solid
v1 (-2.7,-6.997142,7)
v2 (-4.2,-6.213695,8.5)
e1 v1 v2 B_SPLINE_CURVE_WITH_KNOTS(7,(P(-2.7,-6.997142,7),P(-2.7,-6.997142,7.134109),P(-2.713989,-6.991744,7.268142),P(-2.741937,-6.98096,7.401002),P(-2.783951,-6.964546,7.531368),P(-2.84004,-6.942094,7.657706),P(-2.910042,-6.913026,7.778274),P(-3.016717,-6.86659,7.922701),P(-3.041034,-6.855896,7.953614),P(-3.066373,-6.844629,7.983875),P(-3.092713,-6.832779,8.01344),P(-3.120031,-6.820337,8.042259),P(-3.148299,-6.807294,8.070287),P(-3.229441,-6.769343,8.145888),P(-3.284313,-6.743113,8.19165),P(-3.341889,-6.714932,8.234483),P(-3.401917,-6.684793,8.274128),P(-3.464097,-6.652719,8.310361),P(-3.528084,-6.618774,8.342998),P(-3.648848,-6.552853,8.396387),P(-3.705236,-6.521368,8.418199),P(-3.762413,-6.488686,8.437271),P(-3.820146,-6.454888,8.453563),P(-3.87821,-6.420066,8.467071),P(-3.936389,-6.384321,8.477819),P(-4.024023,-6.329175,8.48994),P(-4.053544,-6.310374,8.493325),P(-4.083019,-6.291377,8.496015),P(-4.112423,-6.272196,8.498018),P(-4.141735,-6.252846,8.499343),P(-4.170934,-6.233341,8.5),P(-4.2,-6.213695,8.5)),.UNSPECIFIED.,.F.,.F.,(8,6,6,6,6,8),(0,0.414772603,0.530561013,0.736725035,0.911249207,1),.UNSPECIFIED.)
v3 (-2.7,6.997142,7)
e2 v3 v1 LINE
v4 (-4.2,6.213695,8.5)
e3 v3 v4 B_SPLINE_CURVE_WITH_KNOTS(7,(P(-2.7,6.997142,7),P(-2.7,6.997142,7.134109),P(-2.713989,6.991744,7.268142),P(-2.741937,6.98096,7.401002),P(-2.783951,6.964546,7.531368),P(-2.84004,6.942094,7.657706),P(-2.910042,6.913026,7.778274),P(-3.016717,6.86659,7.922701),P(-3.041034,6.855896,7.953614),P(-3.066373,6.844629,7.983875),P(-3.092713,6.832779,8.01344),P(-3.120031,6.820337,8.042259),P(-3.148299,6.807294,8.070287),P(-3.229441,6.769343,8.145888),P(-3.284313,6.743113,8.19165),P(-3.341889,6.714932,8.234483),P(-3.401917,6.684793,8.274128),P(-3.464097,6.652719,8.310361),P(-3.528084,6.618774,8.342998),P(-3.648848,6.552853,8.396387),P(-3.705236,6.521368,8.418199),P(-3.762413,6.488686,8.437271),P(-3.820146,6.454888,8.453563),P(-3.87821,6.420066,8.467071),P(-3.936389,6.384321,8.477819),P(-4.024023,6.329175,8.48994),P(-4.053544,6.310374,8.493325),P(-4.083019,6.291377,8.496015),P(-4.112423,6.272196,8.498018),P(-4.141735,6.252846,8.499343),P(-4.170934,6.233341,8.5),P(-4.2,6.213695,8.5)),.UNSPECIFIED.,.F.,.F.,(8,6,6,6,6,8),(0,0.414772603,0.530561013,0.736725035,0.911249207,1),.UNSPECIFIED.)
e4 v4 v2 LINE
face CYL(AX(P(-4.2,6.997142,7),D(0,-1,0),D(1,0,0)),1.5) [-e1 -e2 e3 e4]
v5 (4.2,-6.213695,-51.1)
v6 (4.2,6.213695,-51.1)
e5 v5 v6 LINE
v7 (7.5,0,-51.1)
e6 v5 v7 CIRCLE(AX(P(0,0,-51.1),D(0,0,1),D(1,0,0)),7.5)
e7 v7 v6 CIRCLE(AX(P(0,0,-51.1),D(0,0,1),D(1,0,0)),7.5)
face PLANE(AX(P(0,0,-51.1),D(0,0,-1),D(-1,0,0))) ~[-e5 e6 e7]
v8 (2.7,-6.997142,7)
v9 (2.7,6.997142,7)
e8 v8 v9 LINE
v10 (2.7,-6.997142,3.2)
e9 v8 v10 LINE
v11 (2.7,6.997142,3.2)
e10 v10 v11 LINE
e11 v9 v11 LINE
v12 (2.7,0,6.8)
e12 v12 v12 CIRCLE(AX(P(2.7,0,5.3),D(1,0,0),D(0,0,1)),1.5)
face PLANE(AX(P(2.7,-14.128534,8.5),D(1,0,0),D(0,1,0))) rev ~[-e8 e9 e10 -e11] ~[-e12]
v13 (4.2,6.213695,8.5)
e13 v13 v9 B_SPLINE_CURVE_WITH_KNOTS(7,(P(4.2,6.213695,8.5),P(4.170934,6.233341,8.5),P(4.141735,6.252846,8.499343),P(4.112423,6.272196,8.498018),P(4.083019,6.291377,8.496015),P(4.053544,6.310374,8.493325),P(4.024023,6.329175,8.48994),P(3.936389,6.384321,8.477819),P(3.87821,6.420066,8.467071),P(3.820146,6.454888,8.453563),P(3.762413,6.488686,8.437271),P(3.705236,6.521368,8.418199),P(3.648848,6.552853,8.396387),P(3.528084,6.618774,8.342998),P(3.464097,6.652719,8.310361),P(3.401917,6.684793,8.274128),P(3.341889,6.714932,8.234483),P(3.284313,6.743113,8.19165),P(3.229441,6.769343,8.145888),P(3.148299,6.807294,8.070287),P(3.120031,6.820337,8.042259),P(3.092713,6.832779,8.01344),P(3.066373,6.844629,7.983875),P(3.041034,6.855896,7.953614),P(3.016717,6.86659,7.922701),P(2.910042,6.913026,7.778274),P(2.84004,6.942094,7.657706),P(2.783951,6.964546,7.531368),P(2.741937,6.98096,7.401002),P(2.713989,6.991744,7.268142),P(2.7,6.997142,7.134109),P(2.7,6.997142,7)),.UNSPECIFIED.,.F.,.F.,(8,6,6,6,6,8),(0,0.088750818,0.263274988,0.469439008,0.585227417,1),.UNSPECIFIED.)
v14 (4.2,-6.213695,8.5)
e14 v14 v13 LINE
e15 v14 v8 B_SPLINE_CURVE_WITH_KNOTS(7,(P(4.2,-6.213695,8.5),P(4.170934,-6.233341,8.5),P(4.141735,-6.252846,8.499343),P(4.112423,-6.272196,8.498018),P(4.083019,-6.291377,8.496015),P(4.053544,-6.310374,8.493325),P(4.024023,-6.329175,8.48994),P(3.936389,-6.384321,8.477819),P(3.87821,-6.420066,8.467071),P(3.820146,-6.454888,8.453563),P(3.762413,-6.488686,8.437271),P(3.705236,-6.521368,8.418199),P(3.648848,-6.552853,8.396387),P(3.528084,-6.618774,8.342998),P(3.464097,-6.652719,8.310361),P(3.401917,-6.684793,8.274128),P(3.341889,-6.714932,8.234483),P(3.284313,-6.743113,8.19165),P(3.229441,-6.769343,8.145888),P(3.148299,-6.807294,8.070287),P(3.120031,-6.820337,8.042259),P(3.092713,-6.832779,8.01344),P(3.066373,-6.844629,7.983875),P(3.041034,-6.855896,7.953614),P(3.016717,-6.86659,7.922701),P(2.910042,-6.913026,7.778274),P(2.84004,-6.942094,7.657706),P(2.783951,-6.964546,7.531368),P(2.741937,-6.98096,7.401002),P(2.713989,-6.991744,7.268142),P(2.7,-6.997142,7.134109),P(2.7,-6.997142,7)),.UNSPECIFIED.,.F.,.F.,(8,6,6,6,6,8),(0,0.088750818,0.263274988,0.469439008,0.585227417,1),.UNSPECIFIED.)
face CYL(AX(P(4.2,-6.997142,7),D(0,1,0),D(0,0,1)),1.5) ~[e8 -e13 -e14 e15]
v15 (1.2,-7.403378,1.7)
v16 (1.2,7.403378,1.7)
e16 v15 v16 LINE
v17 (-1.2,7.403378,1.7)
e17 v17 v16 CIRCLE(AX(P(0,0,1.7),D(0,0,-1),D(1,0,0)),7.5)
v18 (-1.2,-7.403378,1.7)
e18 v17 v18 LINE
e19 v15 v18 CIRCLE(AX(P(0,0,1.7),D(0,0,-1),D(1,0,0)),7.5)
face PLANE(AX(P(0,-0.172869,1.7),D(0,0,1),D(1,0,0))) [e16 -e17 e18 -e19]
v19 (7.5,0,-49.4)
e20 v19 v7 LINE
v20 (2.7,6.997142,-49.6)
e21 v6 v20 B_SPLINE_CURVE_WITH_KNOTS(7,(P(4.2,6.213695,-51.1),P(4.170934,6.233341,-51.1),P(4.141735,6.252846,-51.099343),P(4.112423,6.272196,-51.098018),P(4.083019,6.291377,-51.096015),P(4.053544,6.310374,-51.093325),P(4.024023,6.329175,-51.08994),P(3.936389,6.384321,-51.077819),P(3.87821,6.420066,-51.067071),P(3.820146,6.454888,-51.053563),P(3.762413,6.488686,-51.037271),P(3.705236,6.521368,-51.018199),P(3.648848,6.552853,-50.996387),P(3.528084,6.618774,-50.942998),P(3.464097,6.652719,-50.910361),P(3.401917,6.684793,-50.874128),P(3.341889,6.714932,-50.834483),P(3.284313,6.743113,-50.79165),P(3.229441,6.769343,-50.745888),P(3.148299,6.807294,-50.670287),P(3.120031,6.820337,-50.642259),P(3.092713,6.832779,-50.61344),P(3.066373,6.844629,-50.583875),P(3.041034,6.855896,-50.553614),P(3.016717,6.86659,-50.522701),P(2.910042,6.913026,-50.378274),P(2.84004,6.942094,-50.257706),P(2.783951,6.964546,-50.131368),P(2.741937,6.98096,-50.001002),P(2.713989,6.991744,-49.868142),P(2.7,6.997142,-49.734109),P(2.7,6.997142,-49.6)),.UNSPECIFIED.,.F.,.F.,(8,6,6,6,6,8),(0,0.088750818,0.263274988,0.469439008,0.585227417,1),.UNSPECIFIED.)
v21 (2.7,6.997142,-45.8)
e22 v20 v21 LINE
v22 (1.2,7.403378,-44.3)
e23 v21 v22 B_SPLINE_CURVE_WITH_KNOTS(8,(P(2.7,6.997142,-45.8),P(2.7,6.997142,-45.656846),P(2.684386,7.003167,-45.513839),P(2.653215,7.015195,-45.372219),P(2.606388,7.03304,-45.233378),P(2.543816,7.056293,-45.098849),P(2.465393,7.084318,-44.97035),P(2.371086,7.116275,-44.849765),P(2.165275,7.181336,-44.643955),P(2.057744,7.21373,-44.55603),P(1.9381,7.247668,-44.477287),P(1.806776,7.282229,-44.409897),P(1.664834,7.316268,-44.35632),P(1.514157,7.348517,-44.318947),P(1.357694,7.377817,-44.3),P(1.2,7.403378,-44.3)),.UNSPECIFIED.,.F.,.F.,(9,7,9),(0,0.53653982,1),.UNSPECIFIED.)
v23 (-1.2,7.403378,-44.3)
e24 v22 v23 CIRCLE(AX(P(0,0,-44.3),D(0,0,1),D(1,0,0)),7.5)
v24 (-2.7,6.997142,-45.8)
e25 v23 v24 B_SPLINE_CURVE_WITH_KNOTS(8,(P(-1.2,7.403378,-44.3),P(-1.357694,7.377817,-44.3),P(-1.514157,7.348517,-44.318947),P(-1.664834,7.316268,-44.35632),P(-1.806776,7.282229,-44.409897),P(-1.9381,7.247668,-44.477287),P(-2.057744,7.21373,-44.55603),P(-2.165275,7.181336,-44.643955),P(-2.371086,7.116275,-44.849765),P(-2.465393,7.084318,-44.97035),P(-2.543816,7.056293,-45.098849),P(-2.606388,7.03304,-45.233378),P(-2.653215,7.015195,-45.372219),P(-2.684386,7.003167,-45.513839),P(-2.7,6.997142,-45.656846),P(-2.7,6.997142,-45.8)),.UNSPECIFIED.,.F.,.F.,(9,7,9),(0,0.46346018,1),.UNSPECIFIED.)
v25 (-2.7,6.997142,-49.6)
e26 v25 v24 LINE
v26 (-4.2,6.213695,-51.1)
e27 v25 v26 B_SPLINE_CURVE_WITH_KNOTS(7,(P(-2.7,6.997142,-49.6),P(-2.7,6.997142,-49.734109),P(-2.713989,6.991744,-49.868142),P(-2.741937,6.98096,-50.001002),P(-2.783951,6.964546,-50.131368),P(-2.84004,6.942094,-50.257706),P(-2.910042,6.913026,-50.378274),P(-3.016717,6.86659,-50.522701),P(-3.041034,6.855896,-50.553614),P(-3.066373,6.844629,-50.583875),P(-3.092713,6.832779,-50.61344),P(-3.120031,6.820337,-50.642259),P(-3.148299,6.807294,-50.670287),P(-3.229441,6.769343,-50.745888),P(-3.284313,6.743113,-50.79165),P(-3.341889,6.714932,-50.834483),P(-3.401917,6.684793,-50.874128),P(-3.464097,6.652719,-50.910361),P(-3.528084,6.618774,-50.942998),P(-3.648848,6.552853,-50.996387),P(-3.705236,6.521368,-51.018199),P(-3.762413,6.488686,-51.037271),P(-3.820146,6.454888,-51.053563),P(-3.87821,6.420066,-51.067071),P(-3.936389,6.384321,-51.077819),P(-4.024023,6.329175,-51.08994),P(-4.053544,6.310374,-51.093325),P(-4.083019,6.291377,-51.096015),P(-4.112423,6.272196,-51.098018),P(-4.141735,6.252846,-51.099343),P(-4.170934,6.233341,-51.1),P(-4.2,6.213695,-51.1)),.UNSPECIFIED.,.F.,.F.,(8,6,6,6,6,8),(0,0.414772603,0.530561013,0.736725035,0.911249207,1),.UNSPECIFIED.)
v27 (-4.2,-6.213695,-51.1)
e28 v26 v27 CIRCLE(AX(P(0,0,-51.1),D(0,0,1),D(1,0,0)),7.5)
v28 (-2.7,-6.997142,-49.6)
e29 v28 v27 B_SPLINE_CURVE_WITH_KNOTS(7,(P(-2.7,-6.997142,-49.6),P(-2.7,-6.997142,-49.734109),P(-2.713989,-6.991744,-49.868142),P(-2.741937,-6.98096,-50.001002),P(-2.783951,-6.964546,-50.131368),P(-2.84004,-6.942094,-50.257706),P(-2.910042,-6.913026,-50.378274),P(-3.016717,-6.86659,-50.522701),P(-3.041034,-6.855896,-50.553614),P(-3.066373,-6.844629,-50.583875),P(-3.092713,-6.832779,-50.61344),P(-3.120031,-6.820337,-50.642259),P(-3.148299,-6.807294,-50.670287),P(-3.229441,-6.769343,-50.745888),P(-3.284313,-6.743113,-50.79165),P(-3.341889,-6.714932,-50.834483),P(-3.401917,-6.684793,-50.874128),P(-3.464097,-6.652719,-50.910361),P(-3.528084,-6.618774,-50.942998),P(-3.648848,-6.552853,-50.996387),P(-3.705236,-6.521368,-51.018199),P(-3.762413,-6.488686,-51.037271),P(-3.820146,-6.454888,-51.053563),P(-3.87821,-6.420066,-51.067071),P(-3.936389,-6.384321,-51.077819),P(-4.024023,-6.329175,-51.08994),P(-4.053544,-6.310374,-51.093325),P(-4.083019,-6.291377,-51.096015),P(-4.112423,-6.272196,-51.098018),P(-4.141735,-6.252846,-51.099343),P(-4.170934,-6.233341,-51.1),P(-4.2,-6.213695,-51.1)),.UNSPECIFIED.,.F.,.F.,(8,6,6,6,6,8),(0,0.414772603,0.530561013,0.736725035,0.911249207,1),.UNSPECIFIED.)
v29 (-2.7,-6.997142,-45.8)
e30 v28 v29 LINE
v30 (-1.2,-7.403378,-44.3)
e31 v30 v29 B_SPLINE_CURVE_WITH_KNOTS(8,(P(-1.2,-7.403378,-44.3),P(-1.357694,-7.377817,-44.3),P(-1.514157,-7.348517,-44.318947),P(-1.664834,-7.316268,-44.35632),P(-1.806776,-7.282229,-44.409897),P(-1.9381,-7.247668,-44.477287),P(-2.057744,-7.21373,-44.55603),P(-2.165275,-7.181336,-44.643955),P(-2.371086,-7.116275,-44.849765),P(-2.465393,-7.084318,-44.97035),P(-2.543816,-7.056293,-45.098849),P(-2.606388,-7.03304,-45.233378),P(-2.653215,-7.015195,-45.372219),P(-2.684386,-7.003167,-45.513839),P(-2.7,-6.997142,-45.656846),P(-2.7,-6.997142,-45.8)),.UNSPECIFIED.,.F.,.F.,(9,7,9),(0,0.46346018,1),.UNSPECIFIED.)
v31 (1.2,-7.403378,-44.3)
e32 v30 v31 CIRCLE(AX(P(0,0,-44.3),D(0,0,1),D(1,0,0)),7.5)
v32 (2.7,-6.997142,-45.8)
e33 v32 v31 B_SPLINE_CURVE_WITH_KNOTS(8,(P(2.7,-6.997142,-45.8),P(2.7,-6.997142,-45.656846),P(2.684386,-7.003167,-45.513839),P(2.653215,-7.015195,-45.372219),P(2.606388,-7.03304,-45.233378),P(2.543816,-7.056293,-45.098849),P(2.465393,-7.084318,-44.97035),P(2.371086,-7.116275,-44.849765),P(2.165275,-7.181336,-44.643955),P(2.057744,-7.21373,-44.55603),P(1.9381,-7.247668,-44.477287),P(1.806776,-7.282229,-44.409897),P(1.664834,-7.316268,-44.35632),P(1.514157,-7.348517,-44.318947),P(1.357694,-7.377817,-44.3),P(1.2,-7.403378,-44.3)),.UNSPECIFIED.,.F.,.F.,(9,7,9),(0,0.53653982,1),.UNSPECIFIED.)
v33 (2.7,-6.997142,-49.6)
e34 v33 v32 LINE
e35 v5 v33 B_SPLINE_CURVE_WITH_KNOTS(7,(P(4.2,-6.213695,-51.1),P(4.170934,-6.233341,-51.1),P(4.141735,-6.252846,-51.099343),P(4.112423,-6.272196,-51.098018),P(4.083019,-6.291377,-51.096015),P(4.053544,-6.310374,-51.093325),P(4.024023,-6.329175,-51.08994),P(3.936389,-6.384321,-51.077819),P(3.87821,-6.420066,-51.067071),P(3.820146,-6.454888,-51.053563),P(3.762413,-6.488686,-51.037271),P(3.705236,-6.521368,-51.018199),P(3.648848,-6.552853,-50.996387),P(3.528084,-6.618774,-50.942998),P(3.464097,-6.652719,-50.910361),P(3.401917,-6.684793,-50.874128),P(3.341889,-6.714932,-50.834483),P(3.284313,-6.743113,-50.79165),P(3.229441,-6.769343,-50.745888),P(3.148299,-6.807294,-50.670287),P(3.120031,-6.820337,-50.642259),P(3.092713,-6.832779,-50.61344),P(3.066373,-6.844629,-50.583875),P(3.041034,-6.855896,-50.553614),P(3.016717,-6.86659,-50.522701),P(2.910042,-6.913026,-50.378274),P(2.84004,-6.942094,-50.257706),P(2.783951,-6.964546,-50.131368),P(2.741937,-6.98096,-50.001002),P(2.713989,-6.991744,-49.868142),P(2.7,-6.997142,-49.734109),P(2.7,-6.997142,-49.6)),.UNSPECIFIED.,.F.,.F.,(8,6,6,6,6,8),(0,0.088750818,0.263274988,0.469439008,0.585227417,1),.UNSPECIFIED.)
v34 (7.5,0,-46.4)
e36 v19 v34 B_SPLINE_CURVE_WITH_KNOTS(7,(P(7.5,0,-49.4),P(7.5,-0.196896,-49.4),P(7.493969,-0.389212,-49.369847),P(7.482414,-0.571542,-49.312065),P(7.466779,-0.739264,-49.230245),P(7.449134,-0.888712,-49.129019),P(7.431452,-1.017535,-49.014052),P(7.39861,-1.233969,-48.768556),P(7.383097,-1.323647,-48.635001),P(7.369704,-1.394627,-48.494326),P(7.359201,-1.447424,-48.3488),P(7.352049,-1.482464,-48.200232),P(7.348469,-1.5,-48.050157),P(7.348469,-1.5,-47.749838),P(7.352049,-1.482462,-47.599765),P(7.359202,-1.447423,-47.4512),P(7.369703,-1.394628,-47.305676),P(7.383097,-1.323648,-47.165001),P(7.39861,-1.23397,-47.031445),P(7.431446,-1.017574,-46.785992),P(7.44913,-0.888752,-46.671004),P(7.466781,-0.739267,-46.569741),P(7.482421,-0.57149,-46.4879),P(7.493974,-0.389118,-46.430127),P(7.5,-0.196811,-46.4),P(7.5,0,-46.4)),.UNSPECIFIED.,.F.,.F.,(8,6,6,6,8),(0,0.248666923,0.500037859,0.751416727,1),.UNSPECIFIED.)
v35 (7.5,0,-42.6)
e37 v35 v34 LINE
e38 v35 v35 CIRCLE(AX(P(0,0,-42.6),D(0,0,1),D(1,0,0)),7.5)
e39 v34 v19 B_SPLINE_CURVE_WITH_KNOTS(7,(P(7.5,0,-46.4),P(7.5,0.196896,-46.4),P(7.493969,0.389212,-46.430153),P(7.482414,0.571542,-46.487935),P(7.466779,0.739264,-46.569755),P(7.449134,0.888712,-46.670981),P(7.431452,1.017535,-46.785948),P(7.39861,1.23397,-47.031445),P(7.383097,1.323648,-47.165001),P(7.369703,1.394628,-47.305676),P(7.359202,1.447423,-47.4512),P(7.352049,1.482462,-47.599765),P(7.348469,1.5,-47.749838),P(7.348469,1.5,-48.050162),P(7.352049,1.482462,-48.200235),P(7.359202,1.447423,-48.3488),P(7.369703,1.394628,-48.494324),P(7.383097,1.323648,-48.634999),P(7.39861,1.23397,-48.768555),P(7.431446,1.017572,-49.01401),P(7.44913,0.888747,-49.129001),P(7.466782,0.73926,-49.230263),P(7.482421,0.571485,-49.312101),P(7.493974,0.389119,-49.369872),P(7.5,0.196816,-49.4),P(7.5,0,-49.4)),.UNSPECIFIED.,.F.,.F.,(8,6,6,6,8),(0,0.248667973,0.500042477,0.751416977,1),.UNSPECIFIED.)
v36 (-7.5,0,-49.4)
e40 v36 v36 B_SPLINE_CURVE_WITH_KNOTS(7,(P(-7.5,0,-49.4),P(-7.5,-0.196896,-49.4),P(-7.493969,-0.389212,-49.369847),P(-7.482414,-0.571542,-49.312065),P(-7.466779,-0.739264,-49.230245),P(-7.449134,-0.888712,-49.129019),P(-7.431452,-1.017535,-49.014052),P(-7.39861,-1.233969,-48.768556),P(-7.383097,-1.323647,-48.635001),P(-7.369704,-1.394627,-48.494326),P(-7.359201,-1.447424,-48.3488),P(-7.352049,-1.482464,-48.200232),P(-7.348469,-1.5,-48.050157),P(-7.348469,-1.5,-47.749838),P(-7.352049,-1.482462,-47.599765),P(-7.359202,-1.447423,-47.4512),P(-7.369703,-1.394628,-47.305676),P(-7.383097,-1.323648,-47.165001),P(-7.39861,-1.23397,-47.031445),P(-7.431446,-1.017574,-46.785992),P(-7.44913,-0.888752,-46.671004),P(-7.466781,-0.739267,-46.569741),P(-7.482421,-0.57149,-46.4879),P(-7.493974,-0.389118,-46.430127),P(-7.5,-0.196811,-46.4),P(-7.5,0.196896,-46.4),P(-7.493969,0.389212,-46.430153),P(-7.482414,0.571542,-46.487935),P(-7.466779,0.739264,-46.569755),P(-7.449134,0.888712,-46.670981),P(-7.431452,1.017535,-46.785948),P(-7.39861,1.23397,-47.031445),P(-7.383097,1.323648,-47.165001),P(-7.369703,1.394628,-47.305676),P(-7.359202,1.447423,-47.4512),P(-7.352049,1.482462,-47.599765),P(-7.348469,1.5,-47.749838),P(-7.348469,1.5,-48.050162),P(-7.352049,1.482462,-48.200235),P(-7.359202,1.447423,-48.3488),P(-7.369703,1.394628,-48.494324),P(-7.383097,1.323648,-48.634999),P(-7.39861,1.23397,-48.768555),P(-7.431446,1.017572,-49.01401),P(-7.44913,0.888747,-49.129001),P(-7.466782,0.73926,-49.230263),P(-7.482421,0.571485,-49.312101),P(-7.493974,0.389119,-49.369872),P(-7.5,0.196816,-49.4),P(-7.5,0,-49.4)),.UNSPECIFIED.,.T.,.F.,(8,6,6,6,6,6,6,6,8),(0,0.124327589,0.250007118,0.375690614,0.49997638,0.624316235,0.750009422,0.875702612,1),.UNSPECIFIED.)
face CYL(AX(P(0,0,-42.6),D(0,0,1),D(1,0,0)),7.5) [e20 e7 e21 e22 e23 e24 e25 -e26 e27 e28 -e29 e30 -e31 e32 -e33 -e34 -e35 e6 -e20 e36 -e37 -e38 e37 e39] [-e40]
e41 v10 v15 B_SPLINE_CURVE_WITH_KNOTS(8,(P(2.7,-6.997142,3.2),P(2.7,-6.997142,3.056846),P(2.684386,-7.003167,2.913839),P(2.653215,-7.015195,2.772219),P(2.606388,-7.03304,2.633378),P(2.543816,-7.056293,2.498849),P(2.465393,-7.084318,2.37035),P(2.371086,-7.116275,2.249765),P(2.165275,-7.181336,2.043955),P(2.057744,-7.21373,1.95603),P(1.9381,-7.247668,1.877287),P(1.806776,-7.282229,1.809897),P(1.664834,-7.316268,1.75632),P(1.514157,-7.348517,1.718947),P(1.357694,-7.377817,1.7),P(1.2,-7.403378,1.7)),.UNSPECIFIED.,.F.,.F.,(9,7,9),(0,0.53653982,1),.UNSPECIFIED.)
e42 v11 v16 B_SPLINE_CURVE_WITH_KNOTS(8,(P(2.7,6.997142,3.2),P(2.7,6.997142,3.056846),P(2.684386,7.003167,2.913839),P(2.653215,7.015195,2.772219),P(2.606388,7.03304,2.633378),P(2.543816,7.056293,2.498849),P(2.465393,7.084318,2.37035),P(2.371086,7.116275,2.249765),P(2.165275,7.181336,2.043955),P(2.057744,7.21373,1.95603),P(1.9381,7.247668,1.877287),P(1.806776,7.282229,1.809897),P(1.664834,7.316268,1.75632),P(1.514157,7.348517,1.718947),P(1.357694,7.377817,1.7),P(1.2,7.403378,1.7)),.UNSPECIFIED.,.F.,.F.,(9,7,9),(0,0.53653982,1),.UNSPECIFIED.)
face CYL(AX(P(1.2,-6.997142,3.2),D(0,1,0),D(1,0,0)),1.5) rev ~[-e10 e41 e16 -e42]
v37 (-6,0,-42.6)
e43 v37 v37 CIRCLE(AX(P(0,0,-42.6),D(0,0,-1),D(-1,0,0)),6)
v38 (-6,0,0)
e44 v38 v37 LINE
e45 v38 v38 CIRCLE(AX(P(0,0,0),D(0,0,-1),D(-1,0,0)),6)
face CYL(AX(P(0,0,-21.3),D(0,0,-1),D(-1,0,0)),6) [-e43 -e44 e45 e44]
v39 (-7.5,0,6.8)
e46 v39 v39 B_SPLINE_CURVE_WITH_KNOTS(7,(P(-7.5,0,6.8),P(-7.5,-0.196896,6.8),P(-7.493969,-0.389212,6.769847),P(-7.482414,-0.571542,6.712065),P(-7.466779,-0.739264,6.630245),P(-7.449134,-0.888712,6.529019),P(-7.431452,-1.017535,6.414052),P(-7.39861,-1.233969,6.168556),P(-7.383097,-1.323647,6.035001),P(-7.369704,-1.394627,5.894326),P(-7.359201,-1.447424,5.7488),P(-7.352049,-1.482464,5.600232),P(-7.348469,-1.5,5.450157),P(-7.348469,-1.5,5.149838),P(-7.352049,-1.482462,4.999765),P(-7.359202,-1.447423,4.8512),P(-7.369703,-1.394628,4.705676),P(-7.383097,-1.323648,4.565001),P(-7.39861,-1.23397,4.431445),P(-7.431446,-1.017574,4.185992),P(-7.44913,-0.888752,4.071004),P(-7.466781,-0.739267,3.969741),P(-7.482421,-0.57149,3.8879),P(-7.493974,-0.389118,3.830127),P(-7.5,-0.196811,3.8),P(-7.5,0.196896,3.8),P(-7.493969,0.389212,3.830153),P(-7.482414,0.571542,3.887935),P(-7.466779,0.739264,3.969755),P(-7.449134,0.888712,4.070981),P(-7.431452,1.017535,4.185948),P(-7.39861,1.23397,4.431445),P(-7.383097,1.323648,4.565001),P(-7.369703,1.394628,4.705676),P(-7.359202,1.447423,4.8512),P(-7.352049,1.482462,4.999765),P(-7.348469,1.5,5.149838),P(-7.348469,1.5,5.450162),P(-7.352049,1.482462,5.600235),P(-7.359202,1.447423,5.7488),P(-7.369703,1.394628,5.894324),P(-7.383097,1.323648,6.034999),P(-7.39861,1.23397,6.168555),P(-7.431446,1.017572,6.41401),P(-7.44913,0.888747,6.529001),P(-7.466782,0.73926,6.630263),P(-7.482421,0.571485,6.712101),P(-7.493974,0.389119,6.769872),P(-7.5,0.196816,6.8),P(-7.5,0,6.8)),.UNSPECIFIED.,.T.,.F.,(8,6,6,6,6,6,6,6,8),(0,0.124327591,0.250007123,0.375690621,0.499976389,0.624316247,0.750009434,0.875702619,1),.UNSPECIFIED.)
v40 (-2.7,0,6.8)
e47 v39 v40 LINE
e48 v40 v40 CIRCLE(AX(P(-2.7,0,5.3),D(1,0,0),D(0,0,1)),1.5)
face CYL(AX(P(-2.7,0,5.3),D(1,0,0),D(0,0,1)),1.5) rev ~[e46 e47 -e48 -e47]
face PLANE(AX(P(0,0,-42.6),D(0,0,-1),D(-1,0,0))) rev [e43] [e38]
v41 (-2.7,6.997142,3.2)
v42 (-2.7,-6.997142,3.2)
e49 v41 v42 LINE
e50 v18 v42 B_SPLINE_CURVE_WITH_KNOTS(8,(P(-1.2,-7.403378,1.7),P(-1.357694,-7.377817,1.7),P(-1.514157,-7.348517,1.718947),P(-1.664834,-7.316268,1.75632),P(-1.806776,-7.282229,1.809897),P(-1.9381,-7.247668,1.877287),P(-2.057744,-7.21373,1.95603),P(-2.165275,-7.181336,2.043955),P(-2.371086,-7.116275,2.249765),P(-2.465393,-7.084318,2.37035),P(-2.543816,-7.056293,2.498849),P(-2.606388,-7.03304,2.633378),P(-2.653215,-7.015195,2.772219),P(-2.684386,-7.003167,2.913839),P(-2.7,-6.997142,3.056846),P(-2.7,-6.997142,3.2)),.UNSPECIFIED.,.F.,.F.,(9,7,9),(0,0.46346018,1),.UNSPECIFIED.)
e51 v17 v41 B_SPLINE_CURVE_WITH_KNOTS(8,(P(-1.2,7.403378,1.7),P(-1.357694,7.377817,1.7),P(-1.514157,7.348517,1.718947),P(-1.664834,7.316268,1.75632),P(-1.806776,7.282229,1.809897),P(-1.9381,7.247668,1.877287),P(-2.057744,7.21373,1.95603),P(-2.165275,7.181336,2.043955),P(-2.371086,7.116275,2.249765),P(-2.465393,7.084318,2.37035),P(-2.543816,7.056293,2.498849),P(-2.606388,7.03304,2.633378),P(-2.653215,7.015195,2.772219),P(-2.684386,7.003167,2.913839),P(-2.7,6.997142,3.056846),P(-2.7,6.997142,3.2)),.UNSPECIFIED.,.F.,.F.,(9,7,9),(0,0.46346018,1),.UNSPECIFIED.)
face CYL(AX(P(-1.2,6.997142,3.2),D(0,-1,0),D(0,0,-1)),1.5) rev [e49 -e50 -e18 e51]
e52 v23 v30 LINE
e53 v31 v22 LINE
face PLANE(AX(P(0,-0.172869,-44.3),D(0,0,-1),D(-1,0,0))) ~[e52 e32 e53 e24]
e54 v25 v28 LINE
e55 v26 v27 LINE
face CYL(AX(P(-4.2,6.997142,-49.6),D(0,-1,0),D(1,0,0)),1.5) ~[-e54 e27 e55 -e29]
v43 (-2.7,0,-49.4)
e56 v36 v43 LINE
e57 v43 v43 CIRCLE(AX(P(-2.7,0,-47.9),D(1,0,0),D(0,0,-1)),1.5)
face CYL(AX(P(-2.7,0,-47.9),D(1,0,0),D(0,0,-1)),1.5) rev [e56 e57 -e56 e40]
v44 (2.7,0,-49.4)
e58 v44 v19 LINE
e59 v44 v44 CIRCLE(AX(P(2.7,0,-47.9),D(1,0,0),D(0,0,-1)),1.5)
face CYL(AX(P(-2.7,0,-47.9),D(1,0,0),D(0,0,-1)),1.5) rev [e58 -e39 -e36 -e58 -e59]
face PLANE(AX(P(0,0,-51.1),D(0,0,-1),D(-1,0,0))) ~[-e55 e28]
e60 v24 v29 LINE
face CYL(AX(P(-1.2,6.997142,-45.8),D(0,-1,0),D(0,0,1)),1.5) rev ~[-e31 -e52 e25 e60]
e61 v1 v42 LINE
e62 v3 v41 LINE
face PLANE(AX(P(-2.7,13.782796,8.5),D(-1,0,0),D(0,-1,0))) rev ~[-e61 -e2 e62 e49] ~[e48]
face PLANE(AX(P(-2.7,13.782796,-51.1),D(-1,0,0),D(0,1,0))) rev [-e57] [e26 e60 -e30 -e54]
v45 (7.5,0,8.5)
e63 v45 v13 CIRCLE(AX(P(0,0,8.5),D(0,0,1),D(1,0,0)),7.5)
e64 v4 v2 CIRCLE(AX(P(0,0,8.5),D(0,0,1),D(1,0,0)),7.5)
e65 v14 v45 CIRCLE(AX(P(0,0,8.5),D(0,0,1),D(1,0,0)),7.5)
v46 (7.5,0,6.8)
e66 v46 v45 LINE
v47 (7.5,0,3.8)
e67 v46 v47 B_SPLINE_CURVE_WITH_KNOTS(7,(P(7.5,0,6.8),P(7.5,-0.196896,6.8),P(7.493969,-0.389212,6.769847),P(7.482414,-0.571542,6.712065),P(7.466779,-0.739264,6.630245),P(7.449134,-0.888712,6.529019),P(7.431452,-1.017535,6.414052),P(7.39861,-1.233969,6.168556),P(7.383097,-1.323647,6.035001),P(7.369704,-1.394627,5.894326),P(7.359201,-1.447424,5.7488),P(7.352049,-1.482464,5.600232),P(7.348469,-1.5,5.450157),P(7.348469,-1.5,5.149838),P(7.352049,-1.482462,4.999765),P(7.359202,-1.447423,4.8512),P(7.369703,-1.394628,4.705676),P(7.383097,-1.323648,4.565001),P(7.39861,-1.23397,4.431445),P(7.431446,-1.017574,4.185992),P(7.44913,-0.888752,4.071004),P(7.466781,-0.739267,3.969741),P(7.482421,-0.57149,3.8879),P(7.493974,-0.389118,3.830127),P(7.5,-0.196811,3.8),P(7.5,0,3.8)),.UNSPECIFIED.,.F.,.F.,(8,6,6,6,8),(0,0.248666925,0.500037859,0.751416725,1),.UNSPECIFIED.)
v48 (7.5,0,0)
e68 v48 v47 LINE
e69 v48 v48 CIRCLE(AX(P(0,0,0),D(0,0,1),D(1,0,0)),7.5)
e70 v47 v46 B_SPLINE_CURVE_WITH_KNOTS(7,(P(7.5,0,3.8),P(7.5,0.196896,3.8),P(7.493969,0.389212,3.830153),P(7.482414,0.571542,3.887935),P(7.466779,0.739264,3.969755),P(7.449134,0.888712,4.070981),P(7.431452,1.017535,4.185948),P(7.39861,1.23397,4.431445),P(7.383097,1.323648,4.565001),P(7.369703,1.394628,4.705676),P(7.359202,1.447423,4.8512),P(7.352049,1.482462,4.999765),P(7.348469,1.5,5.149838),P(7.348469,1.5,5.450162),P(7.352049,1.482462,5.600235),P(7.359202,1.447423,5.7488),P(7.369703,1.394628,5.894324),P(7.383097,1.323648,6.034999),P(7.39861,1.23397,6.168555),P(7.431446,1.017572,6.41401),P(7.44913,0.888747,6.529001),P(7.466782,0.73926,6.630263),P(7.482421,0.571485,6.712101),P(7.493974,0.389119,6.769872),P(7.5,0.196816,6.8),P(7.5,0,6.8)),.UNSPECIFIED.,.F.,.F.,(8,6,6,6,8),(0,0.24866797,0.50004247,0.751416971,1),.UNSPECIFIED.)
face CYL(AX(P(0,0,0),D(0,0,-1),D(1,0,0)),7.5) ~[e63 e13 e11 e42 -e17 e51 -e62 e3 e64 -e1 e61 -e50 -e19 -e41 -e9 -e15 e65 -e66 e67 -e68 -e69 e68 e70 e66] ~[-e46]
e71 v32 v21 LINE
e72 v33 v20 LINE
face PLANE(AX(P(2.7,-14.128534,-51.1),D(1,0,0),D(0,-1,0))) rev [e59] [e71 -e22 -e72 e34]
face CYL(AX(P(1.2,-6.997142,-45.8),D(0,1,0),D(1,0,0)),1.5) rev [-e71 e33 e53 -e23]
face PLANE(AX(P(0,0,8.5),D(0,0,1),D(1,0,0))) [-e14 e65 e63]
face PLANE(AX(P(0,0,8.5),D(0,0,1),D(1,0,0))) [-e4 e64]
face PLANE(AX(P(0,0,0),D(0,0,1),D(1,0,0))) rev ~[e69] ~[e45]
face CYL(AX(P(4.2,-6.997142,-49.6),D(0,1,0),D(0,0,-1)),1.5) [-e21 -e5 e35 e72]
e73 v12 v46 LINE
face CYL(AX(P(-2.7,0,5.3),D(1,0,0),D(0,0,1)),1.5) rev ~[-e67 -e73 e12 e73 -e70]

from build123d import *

# Parameters (mm, degrees)
SKETCH1_R                       = 7.5
BOSS_EXTRUDE1_DEPTH             = 8.5
CUT_EXTRUDE1_DEPTH              = 6.8
SKETCH3_R                       = 1.5
CUT_EXTRUDE2_DEPTH              = 16.249262277
FILLET1_R                       = 1.5
SKETCH5_R                       = 6
BOSS_EXTRUDE3_DEPTH             = 21.3
BOSS_EXTRUDE3_DIRECTION_2_REACH = 33.631
FILLET1_OF_MIRROR1_R            = 1.5


with BuildPart() as part:
    # Sketch1 → Boss-Extrude1 (new body)
    with BuildSketch(Plane.XY):
        Circle(SKETCH1_R)
    boss_extrude1 = extrude(amount=BOSS_EXTRUDE1_DEPTH)

    # Sketch2 → Cut-Extrude1 (cut)
    with BuildSketch(Plane.XY.offset(8.5)):
        Polygon((2.7, 0), (2.7, 13.78279584), (-2.7, 13.78279584), (-2.7, 0), (-2.7, -14.12853377), (2.7, -14.12853377), align=None)
    cut_extrude1 = extrude(amount=-CUT_EXTRUDE1_DEPTH, mode=Mode.SUBTRACT)

    # Sketch3 → Cut-Extrude2 (cut, symmetric)
    with BuildSketch(Plane(origin=(-2.7, 0, 0), x_dir=(0, 0, -1), z_dir=(1, 0, 0))):
        with Locations(Location((-5.3, 0, 0), (0, 0, 180))):
            Circle(SKETCH3_R)
    cut_extrude2 = extrude(amount=CUT_EXTRUDE2_DEPTH, both=True, mode=Mode.SUBTRACT)

    # Fillet1
    fillet1_edges = [part.edges().sort_by_distance(p)[0] for p in [
        (-2.7, 0, 1.7),
        (2.7, 0, 1.7),
        (2.7, 0, 8.5),
        (-2.7, 0, 8.5),
    ]]
    fillet(fillet1_edges, radius=FILLET1_R)

    # Sketch5 → Boss-Extrude3 (add)
    with BuildSketch(Plane(origin=(0, 0, -21.3), x_dir=(-1, 0, 0), z_dir=(0, 0, -1))):
        Circle(SKETCH5_R)
    extrude(amount=BOSS_EXTRUDE3_DEPTH)

    # Sketch5 → Boss-Extrude3 direction 2 (add, up to next)
    with BuildSketch(Plane(origin=(0, 0, -21.3), x_dir=(-1, 0, 0), z_dir=(0, 0, -1)), mode=Mode.PRIVATE) as boss_extrude3_direction_2_sk1:
        Circle(SKETCH5_R)
    boss_extrude3_direction_2_tool1 = extrude(boss_extrude3_direction_2_sk1.sketch, amount=-BOSS_EXTRUDE3_DIRECTION_2_REACH, mode=Mode.PRIVATE) - part.part
    add(boss_extrude3_direction_2_tool1.solids().sort_by_distance((0, 0, -21.3))[0])

    # Mirror1: Boss-Extrude1, Cut-Extrude1, Cut-Extrude2 across plane
    add(boss_extrude1.mirror(Plane(origin=(0, 0, -21.3), x_dir=(1, 0, 0), z_dir=(0, 0, -1))))
    add(cut_extrude1.mirror(Plane(origin=(0, 0, -21.3), x_dir=(1, 0, 0), z_dir=(0, 0, -1))), mode=Mode.SUBTRACT)
    add(cut_extrude2.mirror(Plane(origin=(0, 0, -21.3), x_dir=(1, 0, 0), z_dir=(0, 0, -1))), mode=Mode.SUBTRACT)

    # Fillet1 of Mirror1
    fillet1_of_mirror1_edges = [part.edges().sort_by_distance(p)[0] for p in [
        (-2.7, 0, -44.3),
        (2.7, 0, -44.3),
        (2.7, 0, -51.1),
        (-2.7, 0, -51.1),
    ]]
    fillet(fillet1_of_mirror1_edges, radius=FILLET1_OF_MIRROR1_R)


solid = part.part
